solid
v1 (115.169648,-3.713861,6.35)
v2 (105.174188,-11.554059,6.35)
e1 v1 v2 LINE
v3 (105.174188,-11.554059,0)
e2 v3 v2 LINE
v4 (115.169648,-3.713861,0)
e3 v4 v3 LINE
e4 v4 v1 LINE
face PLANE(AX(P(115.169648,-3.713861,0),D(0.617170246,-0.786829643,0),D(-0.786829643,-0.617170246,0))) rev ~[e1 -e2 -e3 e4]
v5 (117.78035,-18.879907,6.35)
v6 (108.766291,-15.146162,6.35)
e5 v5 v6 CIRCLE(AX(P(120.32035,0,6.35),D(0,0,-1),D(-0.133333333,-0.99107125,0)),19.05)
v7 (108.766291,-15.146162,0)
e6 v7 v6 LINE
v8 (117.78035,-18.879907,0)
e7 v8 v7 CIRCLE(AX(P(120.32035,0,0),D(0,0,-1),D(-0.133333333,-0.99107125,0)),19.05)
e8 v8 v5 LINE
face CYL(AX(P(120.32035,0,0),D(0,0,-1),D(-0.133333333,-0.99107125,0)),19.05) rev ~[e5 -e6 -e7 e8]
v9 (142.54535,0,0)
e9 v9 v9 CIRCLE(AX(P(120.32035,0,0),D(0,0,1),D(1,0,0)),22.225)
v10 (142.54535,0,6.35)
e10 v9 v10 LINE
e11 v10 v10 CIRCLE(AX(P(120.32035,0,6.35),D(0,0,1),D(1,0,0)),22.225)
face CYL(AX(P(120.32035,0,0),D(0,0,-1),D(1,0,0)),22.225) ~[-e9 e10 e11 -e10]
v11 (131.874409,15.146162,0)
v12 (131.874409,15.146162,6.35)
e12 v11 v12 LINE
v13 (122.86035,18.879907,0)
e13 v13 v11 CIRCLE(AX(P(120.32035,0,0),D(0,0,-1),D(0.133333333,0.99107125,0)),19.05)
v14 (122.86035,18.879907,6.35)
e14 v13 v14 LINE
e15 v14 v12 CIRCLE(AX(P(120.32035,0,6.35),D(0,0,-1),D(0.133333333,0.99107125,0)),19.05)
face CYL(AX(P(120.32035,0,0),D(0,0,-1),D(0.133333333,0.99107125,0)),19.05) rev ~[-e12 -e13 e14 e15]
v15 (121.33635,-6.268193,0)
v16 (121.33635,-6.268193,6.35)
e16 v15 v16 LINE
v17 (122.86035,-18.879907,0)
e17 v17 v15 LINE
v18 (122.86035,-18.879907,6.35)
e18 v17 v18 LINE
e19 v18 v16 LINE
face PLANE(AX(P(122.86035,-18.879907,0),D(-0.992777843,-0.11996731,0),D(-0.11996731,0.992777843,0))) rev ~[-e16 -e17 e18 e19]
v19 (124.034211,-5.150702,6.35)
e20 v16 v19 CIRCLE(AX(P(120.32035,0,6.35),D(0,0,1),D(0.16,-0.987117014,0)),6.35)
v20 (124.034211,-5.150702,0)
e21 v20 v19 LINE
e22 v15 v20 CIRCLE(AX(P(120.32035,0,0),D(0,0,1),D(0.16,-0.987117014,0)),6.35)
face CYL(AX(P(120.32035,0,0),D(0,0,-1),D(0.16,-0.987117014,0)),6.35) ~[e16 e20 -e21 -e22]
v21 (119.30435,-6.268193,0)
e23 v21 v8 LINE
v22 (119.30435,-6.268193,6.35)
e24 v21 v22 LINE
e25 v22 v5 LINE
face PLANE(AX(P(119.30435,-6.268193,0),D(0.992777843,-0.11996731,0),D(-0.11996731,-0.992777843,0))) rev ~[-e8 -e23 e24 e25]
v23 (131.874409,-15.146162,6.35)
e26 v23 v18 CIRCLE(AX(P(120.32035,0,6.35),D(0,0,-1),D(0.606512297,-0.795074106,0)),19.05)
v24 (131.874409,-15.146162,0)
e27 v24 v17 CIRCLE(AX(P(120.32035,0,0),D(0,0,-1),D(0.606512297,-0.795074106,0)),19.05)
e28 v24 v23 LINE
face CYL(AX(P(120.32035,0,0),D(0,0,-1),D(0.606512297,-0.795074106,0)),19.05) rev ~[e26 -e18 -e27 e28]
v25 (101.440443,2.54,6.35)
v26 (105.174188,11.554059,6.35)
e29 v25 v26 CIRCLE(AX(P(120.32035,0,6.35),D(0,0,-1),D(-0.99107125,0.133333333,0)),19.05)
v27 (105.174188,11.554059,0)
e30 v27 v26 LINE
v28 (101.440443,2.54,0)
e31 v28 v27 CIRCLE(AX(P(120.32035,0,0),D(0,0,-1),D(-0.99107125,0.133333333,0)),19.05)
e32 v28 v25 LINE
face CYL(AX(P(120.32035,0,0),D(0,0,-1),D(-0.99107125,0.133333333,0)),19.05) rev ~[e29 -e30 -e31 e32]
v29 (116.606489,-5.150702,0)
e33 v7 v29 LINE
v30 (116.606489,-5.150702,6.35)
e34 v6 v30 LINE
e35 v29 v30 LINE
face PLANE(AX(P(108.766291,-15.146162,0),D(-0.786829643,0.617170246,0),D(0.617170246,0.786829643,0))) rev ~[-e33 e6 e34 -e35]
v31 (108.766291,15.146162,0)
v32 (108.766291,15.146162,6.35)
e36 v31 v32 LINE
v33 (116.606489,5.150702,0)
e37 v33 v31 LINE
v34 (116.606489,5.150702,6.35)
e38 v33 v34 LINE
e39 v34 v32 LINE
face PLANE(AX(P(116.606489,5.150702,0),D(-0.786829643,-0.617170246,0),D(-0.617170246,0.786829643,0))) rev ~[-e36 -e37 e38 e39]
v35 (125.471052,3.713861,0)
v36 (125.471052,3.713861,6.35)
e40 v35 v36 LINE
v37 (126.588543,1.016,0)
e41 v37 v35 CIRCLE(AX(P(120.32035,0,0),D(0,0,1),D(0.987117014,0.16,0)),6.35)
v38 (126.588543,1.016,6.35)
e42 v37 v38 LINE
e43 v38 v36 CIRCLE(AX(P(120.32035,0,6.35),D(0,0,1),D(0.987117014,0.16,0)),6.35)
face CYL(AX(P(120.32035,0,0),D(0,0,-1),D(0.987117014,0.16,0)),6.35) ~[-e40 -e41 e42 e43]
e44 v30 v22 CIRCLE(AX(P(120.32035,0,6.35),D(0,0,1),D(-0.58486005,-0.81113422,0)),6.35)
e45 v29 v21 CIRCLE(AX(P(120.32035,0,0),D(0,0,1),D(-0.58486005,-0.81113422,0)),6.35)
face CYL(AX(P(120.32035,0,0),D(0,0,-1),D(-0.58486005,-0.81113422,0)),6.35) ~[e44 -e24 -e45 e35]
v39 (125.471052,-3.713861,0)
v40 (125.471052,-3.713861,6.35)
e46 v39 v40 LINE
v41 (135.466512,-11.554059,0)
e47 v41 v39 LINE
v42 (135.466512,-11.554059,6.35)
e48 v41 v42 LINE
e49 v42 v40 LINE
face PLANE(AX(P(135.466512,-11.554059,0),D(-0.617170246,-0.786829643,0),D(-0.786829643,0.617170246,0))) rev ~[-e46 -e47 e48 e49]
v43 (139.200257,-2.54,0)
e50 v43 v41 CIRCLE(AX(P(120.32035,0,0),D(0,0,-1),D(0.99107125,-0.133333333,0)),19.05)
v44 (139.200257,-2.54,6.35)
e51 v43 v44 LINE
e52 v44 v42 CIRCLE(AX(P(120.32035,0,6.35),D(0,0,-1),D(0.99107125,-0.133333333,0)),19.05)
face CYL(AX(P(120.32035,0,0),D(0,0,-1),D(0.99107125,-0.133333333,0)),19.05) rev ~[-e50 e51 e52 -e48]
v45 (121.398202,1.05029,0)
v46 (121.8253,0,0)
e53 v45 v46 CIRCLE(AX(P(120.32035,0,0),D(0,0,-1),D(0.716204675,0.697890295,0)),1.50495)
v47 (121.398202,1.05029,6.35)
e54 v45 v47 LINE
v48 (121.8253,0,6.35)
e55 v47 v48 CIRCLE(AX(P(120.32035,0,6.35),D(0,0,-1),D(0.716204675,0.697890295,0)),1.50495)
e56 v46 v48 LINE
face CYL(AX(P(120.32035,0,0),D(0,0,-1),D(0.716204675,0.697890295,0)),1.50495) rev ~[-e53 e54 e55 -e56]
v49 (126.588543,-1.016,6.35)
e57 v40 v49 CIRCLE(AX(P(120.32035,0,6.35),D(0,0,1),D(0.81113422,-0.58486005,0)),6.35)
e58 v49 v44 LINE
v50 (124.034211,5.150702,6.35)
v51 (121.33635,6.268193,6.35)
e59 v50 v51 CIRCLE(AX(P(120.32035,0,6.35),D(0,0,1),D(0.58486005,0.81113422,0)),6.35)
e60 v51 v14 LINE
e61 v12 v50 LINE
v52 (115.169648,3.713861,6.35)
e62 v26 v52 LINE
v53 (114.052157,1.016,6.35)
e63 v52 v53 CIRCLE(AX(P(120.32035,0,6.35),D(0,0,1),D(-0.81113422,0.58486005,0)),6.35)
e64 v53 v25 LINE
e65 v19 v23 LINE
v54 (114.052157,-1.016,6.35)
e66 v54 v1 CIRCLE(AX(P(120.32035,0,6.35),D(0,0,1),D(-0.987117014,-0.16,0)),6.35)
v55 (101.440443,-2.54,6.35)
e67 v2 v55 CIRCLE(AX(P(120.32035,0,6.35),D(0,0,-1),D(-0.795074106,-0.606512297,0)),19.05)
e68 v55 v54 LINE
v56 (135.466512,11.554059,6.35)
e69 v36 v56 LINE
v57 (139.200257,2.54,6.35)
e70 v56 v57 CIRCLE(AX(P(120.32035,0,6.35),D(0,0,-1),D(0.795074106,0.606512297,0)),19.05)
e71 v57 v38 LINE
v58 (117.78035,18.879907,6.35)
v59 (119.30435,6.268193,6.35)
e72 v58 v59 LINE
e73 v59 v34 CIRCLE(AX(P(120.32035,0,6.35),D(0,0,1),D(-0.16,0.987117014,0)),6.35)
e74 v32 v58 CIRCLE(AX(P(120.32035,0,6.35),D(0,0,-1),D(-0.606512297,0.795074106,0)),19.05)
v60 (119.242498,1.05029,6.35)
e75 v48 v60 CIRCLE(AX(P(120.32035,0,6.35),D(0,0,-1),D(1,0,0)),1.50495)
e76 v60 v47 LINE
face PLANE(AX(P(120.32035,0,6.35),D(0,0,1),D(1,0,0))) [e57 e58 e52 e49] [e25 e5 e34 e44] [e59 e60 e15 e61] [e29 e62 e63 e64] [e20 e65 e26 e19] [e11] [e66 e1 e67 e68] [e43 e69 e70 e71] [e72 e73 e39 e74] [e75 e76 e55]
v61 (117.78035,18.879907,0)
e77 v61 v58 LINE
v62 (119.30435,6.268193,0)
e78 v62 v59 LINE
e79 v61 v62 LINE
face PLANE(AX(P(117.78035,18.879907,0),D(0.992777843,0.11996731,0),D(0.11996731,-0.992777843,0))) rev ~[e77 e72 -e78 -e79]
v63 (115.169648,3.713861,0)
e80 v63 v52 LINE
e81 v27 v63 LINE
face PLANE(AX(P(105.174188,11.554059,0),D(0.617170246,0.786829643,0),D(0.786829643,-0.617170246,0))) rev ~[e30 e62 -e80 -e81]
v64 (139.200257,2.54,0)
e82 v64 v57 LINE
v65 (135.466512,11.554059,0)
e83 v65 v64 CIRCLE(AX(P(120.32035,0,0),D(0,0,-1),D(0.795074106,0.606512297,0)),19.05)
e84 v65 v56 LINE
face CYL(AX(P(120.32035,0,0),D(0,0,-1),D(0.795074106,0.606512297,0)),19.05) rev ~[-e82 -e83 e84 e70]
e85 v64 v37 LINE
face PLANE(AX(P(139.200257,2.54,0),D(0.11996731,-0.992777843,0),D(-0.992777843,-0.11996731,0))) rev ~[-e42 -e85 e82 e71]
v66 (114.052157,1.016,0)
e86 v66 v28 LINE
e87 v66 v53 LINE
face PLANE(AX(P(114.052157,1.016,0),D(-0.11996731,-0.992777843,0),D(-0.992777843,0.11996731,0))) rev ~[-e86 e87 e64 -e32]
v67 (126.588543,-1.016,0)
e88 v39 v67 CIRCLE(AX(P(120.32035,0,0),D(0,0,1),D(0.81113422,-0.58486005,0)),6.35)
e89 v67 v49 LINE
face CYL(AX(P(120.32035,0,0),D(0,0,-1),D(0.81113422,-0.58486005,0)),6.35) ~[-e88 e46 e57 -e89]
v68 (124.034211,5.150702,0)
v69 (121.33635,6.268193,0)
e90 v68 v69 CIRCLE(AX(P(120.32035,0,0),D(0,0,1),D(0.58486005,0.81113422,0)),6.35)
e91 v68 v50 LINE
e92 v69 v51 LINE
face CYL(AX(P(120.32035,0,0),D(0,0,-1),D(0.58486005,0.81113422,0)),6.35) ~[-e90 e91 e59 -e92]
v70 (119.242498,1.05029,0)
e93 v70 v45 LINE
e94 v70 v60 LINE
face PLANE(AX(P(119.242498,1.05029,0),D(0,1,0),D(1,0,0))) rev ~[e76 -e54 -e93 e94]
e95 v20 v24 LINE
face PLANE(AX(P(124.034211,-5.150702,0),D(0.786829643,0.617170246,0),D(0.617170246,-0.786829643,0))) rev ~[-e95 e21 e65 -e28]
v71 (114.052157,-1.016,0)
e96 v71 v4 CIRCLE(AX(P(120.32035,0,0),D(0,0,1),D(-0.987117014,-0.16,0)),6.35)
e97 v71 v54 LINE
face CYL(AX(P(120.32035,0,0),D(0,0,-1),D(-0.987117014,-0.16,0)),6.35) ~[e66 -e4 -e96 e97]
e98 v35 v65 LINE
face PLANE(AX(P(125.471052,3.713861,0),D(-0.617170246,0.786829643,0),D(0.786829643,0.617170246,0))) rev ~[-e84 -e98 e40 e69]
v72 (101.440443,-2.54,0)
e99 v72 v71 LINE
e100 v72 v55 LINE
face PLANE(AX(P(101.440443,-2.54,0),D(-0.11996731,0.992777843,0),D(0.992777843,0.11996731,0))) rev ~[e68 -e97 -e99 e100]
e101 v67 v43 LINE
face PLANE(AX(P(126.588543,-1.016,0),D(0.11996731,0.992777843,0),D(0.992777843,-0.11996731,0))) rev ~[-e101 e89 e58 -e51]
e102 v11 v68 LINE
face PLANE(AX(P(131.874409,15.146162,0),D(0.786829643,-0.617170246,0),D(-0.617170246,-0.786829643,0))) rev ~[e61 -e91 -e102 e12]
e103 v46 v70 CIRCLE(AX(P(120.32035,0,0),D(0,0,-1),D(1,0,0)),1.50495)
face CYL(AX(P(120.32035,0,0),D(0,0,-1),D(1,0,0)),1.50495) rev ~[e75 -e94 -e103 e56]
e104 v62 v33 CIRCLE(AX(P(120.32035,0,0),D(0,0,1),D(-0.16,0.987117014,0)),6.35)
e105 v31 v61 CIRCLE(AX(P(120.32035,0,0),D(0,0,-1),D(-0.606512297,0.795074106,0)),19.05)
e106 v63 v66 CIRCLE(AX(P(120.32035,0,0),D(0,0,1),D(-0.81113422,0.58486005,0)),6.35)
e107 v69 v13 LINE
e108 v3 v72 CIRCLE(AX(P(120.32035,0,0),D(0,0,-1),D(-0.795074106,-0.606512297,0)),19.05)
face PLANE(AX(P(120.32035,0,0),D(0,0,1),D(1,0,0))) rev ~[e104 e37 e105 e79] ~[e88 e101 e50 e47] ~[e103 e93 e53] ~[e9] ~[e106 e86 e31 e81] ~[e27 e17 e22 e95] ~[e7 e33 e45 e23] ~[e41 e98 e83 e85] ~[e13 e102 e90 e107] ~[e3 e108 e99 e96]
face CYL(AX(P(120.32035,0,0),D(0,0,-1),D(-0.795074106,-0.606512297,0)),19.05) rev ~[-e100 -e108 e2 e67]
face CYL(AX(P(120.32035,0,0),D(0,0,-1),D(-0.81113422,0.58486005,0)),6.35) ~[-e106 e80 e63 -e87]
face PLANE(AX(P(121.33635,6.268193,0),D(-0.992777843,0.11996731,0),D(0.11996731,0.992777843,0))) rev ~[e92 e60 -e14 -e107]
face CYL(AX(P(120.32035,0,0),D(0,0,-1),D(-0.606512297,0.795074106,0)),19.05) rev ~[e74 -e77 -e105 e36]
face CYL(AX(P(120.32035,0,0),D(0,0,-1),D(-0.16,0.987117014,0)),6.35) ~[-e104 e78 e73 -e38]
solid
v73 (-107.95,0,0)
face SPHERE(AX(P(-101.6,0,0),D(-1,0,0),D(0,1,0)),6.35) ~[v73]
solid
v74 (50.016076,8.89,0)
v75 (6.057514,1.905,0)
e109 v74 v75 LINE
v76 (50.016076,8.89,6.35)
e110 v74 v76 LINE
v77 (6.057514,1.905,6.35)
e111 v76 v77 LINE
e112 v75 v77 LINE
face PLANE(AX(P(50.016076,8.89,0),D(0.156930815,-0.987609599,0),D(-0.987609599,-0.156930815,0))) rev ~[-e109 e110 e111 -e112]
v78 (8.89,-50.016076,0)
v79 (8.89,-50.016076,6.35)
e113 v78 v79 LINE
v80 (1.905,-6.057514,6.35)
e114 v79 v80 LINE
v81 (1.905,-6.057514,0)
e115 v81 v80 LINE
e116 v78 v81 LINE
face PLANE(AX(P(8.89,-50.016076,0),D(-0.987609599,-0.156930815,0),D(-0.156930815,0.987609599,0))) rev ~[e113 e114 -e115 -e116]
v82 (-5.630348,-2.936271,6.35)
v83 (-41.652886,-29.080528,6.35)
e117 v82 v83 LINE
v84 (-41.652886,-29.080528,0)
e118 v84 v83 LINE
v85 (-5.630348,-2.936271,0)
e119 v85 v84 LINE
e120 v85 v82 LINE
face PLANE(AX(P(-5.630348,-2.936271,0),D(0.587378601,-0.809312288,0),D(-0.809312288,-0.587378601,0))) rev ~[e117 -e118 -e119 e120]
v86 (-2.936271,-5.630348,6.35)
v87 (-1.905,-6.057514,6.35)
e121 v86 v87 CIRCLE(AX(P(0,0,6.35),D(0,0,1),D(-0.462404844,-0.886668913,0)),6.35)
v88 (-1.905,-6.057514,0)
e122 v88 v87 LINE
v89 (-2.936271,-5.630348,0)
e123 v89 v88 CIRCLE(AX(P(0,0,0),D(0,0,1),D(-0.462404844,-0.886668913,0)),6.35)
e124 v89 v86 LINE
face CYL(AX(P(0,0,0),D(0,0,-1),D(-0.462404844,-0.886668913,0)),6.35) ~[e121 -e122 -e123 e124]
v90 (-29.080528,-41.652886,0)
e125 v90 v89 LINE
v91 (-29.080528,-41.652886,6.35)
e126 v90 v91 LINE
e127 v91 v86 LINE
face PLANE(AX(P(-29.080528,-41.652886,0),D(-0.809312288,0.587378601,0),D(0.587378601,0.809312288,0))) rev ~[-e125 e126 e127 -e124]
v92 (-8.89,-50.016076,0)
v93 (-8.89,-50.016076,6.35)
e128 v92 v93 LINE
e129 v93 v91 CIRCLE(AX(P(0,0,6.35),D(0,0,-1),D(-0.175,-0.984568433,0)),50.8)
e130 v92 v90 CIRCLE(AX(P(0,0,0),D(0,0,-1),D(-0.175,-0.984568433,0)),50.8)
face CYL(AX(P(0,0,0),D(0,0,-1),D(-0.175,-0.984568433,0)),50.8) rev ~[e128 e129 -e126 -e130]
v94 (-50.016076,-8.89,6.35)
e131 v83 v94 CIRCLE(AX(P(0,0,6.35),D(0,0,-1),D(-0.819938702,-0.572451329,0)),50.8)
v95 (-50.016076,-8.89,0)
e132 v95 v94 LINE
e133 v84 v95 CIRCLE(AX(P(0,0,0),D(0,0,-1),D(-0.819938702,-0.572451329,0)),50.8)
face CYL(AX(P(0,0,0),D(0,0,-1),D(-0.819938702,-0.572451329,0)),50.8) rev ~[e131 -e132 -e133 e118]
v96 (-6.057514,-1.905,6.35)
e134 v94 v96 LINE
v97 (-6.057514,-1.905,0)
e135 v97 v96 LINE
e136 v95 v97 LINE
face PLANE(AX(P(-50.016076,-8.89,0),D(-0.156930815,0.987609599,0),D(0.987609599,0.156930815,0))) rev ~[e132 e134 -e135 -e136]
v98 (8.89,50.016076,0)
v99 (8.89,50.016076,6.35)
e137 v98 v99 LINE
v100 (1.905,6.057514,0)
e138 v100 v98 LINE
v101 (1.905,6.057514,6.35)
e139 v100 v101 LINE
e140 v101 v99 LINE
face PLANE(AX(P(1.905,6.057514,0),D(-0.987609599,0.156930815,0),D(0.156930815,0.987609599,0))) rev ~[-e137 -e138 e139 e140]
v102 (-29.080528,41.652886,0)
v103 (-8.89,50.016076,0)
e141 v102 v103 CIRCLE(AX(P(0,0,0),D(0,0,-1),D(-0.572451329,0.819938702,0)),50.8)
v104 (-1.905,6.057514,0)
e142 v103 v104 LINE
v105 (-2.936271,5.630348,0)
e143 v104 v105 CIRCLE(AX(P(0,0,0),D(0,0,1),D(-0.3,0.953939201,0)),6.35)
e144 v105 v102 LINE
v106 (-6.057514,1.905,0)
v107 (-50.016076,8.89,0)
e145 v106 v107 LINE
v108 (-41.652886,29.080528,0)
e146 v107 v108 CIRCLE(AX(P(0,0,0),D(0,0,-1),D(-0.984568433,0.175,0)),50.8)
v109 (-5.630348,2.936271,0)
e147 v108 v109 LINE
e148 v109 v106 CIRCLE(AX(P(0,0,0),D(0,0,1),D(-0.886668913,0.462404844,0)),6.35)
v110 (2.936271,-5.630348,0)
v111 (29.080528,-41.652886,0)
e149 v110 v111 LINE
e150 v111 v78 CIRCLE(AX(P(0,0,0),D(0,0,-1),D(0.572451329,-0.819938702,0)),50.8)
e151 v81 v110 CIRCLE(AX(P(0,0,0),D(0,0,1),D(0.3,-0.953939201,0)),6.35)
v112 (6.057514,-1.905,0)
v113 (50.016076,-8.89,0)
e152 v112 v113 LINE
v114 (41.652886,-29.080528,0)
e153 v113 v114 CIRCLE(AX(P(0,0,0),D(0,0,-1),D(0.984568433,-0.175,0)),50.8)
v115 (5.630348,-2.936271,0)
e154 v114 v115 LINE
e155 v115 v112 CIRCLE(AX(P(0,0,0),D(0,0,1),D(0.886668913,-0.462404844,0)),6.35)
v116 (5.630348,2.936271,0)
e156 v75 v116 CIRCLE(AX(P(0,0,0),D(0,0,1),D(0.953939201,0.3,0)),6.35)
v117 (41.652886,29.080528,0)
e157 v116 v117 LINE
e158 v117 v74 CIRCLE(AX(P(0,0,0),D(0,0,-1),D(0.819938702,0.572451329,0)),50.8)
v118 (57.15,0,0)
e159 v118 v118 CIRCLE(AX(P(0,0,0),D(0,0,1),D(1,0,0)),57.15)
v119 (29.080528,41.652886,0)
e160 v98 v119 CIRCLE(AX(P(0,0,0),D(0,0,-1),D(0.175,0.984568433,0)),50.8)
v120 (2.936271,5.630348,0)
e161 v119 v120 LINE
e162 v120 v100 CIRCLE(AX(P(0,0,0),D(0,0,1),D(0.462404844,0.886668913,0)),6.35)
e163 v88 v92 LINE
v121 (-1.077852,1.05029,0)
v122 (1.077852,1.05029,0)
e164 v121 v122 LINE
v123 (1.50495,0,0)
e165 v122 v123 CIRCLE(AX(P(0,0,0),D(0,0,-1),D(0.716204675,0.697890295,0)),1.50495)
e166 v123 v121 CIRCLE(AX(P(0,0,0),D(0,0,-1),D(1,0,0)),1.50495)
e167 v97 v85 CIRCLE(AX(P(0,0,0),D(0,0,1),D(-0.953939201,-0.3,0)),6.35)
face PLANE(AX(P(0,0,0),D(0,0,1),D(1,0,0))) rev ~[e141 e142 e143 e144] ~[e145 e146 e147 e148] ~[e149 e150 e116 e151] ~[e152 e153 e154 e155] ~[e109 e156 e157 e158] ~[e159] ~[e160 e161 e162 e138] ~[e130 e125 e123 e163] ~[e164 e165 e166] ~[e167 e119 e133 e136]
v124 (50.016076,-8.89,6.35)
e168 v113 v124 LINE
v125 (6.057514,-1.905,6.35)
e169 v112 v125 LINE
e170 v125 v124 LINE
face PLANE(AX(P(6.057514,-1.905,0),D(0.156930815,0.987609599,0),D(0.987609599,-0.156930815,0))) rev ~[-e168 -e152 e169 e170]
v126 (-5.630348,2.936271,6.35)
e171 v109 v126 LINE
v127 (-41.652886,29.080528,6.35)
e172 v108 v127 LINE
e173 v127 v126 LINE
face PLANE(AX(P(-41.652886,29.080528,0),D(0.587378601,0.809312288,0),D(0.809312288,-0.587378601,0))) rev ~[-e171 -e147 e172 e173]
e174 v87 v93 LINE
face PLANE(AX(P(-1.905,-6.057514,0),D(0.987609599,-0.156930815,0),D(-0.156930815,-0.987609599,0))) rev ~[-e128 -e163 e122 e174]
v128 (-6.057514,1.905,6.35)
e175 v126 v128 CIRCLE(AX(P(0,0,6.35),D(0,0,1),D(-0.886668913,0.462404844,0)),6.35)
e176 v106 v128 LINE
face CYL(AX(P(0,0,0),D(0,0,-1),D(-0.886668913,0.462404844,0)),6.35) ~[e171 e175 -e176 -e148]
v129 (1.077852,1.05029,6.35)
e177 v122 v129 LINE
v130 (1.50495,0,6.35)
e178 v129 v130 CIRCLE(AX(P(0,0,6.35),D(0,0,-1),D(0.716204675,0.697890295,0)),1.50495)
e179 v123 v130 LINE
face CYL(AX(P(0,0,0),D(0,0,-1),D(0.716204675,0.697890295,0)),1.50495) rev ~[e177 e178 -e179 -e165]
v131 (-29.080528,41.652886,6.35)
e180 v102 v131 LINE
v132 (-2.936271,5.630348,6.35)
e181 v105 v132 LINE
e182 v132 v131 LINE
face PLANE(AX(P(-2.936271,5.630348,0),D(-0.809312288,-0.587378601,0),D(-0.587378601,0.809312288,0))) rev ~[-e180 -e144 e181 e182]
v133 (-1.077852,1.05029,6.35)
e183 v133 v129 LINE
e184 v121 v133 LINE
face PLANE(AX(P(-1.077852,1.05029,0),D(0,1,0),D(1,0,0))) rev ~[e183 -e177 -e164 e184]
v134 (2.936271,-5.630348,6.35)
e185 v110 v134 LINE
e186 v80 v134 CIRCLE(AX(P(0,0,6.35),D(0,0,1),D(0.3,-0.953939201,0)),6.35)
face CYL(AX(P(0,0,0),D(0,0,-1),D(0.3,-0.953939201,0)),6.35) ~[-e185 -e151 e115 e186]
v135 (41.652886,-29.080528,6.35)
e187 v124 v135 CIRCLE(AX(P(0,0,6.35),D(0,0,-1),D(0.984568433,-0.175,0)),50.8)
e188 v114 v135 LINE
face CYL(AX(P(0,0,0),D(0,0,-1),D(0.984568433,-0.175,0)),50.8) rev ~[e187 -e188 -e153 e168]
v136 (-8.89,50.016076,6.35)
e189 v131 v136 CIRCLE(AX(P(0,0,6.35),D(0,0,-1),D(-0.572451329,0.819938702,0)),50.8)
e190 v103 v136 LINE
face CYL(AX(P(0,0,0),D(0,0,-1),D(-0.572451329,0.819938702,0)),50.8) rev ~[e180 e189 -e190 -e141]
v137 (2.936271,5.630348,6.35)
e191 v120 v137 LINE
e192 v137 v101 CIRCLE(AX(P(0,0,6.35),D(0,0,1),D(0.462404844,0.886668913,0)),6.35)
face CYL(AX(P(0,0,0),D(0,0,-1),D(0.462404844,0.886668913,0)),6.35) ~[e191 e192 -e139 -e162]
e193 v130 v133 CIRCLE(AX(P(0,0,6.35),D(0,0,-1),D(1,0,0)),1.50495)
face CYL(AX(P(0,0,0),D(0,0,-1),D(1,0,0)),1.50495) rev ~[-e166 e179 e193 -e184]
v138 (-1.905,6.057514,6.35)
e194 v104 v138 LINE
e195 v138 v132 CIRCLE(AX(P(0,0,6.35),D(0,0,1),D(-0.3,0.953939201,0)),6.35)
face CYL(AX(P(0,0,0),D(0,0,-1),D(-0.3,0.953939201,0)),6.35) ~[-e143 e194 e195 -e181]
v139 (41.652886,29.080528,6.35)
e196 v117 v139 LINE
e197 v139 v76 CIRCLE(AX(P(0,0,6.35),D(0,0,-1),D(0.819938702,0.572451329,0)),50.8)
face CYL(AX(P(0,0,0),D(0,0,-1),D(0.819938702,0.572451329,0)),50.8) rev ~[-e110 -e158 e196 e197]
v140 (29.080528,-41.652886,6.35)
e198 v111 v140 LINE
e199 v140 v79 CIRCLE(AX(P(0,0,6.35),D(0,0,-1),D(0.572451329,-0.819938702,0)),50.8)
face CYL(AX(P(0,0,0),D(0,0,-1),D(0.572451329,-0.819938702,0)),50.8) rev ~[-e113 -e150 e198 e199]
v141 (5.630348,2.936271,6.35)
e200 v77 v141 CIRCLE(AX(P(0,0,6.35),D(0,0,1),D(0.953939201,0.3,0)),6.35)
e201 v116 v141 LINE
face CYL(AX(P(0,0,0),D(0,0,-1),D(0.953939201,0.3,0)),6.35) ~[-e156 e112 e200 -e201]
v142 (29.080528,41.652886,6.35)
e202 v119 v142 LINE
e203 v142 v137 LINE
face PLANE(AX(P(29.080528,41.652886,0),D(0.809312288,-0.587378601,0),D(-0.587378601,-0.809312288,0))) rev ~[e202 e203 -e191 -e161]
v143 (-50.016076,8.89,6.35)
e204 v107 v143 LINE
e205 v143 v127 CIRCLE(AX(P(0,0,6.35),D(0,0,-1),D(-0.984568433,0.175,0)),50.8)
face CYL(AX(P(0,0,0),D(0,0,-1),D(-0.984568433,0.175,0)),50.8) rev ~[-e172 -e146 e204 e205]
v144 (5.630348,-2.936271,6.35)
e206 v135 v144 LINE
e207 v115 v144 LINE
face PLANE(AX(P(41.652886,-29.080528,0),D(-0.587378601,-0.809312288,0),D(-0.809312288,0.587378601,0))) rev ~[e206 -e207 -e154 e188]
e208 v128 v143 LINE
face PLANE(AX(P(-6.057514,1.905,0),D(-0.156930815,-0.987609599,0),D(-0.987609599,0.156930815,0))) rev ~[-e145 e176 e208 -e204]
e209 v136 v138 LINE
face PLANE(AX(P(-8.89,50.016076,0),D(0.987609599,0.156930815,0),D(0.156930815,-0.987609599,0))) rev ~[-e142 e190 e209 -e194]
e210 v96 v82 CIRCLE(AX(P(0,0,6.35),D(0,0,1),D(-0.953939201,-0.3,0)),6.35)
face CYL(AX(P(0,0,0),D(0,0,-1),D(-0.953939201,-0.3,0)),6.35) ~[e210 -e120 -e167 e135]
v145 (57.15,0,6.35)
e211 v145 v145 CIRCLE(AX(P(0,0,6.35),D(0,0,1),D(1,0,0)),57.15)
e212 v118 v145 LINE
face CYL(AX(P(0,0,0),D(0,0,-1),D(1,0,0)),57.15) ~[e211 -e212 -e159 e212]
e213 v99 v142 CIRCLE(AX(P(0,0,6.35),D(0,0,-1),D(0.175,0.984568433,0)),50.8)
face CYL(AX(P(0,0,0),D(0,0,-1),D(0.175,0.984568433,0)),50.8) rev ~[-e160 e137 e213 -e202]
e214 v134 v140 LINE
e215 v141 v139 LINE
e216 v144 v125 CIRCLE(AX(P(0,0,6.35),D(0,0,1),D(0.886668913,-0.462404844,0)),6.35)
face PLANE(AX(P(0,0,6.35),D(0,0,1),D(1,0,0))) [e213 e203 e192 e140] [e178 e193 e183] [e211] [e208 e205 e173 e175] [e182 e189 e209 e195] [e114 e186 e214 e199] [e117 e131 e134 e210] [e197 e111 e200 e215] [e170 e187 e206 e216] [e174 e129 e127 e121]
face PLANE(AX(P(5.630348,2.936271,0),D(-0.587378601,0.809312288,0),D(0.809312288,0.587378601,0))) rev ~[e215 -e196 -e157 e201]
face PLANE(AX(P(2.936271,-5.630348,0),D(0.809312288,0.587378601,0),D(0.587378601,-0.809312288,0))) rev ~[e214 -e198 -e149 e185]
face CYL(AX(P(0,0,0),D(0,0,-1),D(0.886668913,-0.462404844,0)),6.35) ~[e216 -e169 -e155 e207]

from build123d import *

# Parameters (mm, degrees)
F0_R     = 57.15
F1_DEPTH = 6.35
F0_R_2   = 22.225


with BuildPart() as f1:
    # F0 (on Top) → F1 (new body)
    with BuildSketch(Plane.XY):
        Circle(F0_R)
        with BuildLine():
            ThreePointArc((41.6528860865, 29.080527517), (46.9330802516, 19.4403183641), (50.0160764155, 8.89))
            ThreePointArc((50.0160764155, 8.89), (50.6036396018, 4.4622482054), (50.8, 0))
            ThreePointArc((50.8, 0), (50.6036396018, -4.4622482054), (50.0160764155, -8.89))
            ThreePointArc((50.0160764155, -8.89), (46.9330802516, -19.4403183641), (41.6528860865, -29.080527517))
            ThreePointArc((41.6528860865, -29.080527517), (35.9210244843, -35.9210244843), (29.080527517, -41.6528860865))
            ThreePointArc((29.080527517, -41.6528860865), (19.4403183641, -46.9330802516), (8.89, -50.0160764155))
            ThreePointArc((8.89, -50.0160764155), (0, -50.8), (-8.89, -50.0160764155))
            ThreePointArc((-8.89, -50.0160764155), (-19.4403183641, -46.9330802516), (-29.080527517, -41.6528860865))
            ThreePointArc((-29.080527517, -41.6528860865), (-35.9210244843, -35.9210244843), (-41.6528860865, -29.080527517))
            ThreePointArc((-41.6528860865, -29.080527517), (-46.9330802516, -19.4403183641), (-50.0160764155, -8.89))
            ThreePointArc((-50.0160764155, -8.89), (-50.8, 0), (-50.0160764155, 8.89))
            ThreePointArc((-50.0160764155, 8.89), (-46.9330802516, 19.4403183641), (-41.6528860865, 29.080527517))
            ThreePointArc((-41.6528860865, 29.080527517), (-35.9210244843, 35.9210244843), (-29.080527517, 41.6528860865))
            ThreePointArc((-29.080527517, 41.6528860865), (-19.4403183641, 46.9330802516), (-8.89, 50.0160764155))
            ThreePointArc((-8.89, 50.0160764155), (0, 50.8), (8.89, 50.0160764155))
            ThreePointArc((8.89, 50.0160764155), (19.4403183641, 46.9330802516), (29.080527517, 41.6528860865))
            ThreePointArc((29.080527517, 41.6528860865), (35.9210244843, 35.9210244843), (41.6528860865, 29.080527517))
        make_face(mode=Mode.SUBTRACT)
        with BuildLine():
            ThreePointArc((-5.6303475945, 2.9362707582), (-4.4901280605, 4.4901280605), (-2.9362707582, 5.6303475945))
            Line((-2.9362707582, 5.6303475945), (-29.080527517, 41.6528860865))
            ThreePointArc((-29.080527517, 41.6528860865), (-35.9210244843, 35.9210244843), (-41.6528860865, 29.080527517))
            Line((-41.6528860865, 29.080527517), (-5.6303475945, 2.9362707582))
        make_face()
        with BuildLine():
            ThreePointArc((6.057513929, -1.905), (6.2764525589, -0.9636613904), (6.35, 0))
            ThreePointArc((6.35, 0), (6.2764525589, 0.9636613904), (6.057513929, 1.905))
            ThreePointArc((6.057513929, 1.905), (5.8666350314, 2.4300397955), (5.6303475945, 2.9362707582))
            ThreePointArc((5.6303475945, 2.9362707582), (4.4901280605, 4.4901280605), (2.9362707582, 5.6303475945))
            ThreePointArc((2.9362707582, 5.6303475945), (2.4300397955, 5.8666350314), (1.905, 6.057513929))
            ThreePointArc((1.905, 6.057513929), (0, 6.35), (-1.905, 6.057513929))
            ThreePointArc((-1.905, 6.057513929), (-2.4300397955, 5.8666350314), (-2.9362707582, 5.6303475945))
            ThreePointArc((-2.9362707582, 5.6303475945), (-4.4901280605, 4.4901280605), (-5.6303475945, 2.9362707582))
            ThreePointArc((-5.6303475945, 2.9362707582), (-5.8666350314, 2.4300397955), (-6.057513929, 1.905))
            ThreePointArc((-6.057513929, 1.905), (-6.35, 0), (-6.057513929, -1.905))
            ThreePointArc((-6.057513929, -1.905), (-5.8666350314, -2.4300397955), (-5.6303475945, -2.9362707582))
            ThreePointArc((-5.6303475945, -2.9362707582), (-4.4901280605, -4.4901280605), (-2.9362707582, -5.6303475945))
            ThreePointArc((-2.9362707582, -5.6303475945), (-2.4300397955, -5.8666350314), (-1.905, -6.057513929))
            ThreePointArc((-1.905, -6.057513929), (0, -6.35), (1.905, -6.057513929))
            ThreePointArc((1.905, -6.057513929), (2.4300397955, -5.8666350314), (2.9362707582, -5.6303475945))
            ThreePointArc((2.9362707582, -5.6303475945), (4.4901280605, -4.4901280605), (5.6303475945, -2.9362707582))
            ThreePointArc((5.6303475945, -2.9362707582), (5.8666350314, -2.4300397955), (6.057513929, -1.905))
        make_face()
        with BuildLine():
            ThreePointArc((1.0778522248, 1.05029), (1.3940925737, 0.5669042233), (1.50495, 0))
            ThreePointArc((1.50495, 0), (-0.5669042233, -1.3940925737), (-1.0778522248, 1.05029))
            ThreePointArc((-1.0778522248, 1.05029), (0, 1.50495), (1.0778522248, 1.05029))
        make_face(mode=Mode.SUBTRACT)
        with BuildLine():
            ThreePointArc((-1.905, 6.057513929), (0, 6.35), (1.905, 6.057513929))
            Line((1.905, 6.057513929), (8.89, 50.0160764155))
            ThreePointArc((8.89, 50.0160764155), (0, 50.8), (-8.89, 50.0160764155))
            Line((-8.89, 50.0160764155), (-1.905, 6.057513929))
        make_face()
        with BuildLine():
            ThreePointArc((6.057513929, 1.905), (6.2764525589, 0.9636613904), (6.35, 0))
            ThreePointArc((6.35, 0), (6.2764525589, -0.9636613904), (6.057513929, -1.905))
            Line((6.057513929, -1.905), (50.0160764155, -8.89))
            ThreePointArc((50.0160764155, -8.89), (50.6036396018, -4.4622482054), (50.8, 0))
            ThreePointArc((50.8, 0), (50.6036396018, 4.4622482054), (50.0160764155, 8.89))
            Line((50.0160764155, 8.89), (6.057513929, 1.905))
        make_face()
        with BuildLine():
            Line((41.6528860865, -29.080527517), (5.6303475945, -2.9362707582))
            ThreePointArc((5.6303475945, -2.9362707582), (4.4901280605, -4.4901280605), (2.9362707582, -5.6303475945))
            Line((2.9362707582, -5.6303475945), (29.080527517, -41.6528860865))
            ThreePointArc((29.080527517, -41.6528860865), (35.9210244843, -35.9210244843), (41.6528860865, -29.080527517))
        make_face()
        with BuildLine():
            Line((8.89, -50.0160764155), (1.905, -6.057513929))
            ThreePointArc((1.905, -6.057513929), (0, -6.35), (-1.905, -6.057513929))
            Line((-1.905, -6.057513929), (-8.89, -50.0160764155))
            ThreePointArc((-8.89, -50.0160764155), (0, -50.8), (8.89, -50.0160764155))
        make_face()
        with BuildLine():
            Line((-29.080527517, -41.6528860865), (-2.9362707582, -5.6303475945))
            ThreePointArc((-2.9362707582, -5.6303475945), (-4.4901280605, -4.4901280605), (-5.6303475945, -2.9362707582))
            Line((-5.6303475945, -2.9362707582), (-41.6528860865, -29.080527517))
            ThreePointArc((-41.6528860865, -29.080527517), (-35.9210244843, -35.9210244843), (-29.080527517, -41.6528860865))
        make_face()
        with BuildLine():
            ThreePointArc((-6.057513929, -1.905), (-6.35, 0), (-6.057513929, 1.905))
            Line((-6.057513929, 1.905), (-50.0160764155, 8.89))
            ThreePointArc((-50.0160764155, 8.89), (-50.8, 0), (-50.0160764155, -8.89))
            Line((-50.0160764155, -8.89), (-6.057513929, -1.905))
        make_face()
        with BuildLine():
            ThreePointArc((2.9362707582, 5.6303475945), (4.4901280605, 4.4901280605), (5.6303475945, 2.9362707582))
            Line((5.6303475945, 2.9362707582), (41.6528860865, 29.080527517))
            ThreePointArc((41.6528860865, 29.080527517), (35.9210244843, 35.9210244843), (29.080527517, 41.6528860865))
            Line((29.080527517, 41.6528860865), (2.9362707582, 5.6303475945))
        make_face()
        with BuildLine():
            Line((-1.0778522248, 1.05029), (1.0778522248, 1.05029))
            ThreePointArc((1.0778522248, 1.05029), (0, 1.50495), (-1.0778522248, 1.05029))
        make_face()
    extrude(amount=F1_DEPTH)


with BuildPart() as f1b:
    # F0 (on Top) → F1, piece 2 (new body)
    with BuildSketch(Plane.XY):
        with Locations((120.3203499317, 0)):
            Circle(F0_R_2)
        with BuildLine():
            ThreePointArc((135.4665116424, 11.5540592622), (137.9202550261, 7.2901193866), (139.2002572408, 2.54))
            ThreePointArc((139.2002572408, 2.54), (139.3277791929, 1.2728444056), (139.3703499317, 0))
            ThreePointArc((139.3703499317, 0), (139.3277791929, -1.2728444056), (139.2002572408, -2.54))
            ThreePointArc((139.2002572408, -2.54), (137.9202550261, -7.2901193866), (135.4665116424, -11.5540592622))
            ThreePointArc((135.4665116424, -11.5540592622), (133.7907341133, -13.4703841816), (131.8744091939, -15.1461617106))
            ThreePointArc((131.8744091939, -15.1461617106), (127.6104693183, -17.5999050943), (122.8603499317, -18.8799073091))
            ThreePointArc((122.8603499317, -18.8799073091), (120.3203499317, -19.05), (117.7803499317, -18.8799073091))
            ThreePointArc((117.7803499317, -18.8799073091), (113.0302305452, -17.5999050943), (108.7662906695, -15.1461617106))
            ThreePointArc((108.7662906695, -15.1461617106), (106.8499657501, -13.4703841816), (105.1741882211, -11.5540592622))
            ThreePointArc((105.1741882211, -11.5540592622), (102.7204448374, -7.2901193866), (101.4404426226, -2.54))
            ThreePointArc((101.4404426226, -2.54), (101.2703499317, 0), (101.4404426226, 2.54))
            ThreePointArc((101.4404426226, 2.54), (102.7204448374, 7.2901193866), (105.1741882211, 11.5540592622))
            ThreePointArc((105.1741882211, 11.5540592622), (106.8499657501, 13.4703841816), (108.7662906695, 15.1461617106))
            ThreePointArc((108.7662906695, 15.1461617106), (113.0302305452, 17.5999050943), (117.7803499317, 18.8799073091))
            ThreePointArc((117.7803499317, 18.8799073091), (120.3203499317, 19.05), (122.8603499317, 18.8799073091))
            ThreePointArc((122.8603499317, 18.8799073091), (127.6104693183, 17.5999050943), (131.8744091939, 15.1461617106))
            ThreePointArc((131.8744091939, 15.1461617106), (133.7907341133, 13.4703841816), (135.4665116424, 11.5540592622))
        make_face(mode=Mode.SUBTRACT)
        with BuildLine():
            ThreePointArc((126.5885429728, -1.016), (126.6498651505, -0.5096440862), (126.6703499317, 0))
            ThreePointArc((126.6703499317, 0), (126.6498651505, 0.5096440862), (126.5885429728, 1.016))
            ThreePointArc((126.5885429728, 1.016), (126.1869849632, 2.4300397955), (125.4710522265, 3.7138613154))
            ThreePointArc((125.4710522265, 3.7138613154), (124.8104779923, 4.4901280605), (124.0342112472, 5.1507022948))
            ThreePointArc((124.0342112472, 5.1507022948), (122.7503897272, 5.8666350314), (121.3363499317, 6.2681930411))
            ThreePointArc((121.3363499317, 6.2681930411), (120.3203499317, 6.35), (119.3043499317, 6.2681930411))
            ThreePointArc((119.3043499317, 6.2681930411), (117.8903101362, 5.8666350314), (116.6064886163, 5.1507022948))
            ThreePointArc((116.6064886163, 5.1507022948), (115.8302218712, 4.4901280605), (115.1696476369, 3.7138613154))
            ThreePointArc((115.1696476369, 3.7138613154), (114.4537149003, 2.4300397955), (114.0521568907, 1.016))
            ThreePointArc((114.0521568907, 1.016), (113.9703499317, 0), (114.0521568907, -1.016))
            ThreePointArc((114.0521568907, -1.016), (114.4537149003, -2.4300397955), (115.1696476369, -3.7138613154))
            ThreePointArc((115.1696476369, -3.7138613154), (115.8302218712, -4.4901280605), (116.6064886163, -5.1507022948))
            ThreePointArc((116.6064886163, -5.1507022948), (117.8903101362, -5.8666350314), (119.3043499317, -6.2681930411))
            ThreePointArc((119.3043499317, -6.2681930411), (120.3203499317, -6.35), (121.3363499317, -6.2681930411))
            ThreePointArc((121.3363499317, -6.2681930411), (122.7503897272, -5.8666350314), (124.0342112472, -5.1507022948))
            ThreePointArc((124.0342112472, -5.1507022948), (124.8104779923, -4.4901280605), (125.4710522265, -3.7138613154))
            ThreePointArc((125.4710522265, -3.7138613154), (126.1869849632, -2.4300397955), (126.5885429728, -1.016))
        make_face()
        with BuildLine():
            ThreePointArc((121.3982021565, 1.05029), (121.7144425054, 0.5669042233), (121.8252999317, 0))
            ThreePointArc((121.8252999317, 0), (119.7534457084, -1.3940925737), (119.242497707, 1.05029))
            ThreePointArc((119.242497707, 1.05029), (120.3203499317, 1.50495), (121.3982021565, 1.05029))
        make_face(mode=Mode.SUBTRACT)
        with BuildLine():
            ThreePointArc((119.3043499317, 6.2681930411), (120.3203499317, 6.35), (121.3363499317, 6.2681930411))
            Line((121.3363499317, 6.2681930411), (122.8603499317, 18.8799073091))
            ThreePointArc((122.8603499317, 18.8799073091), (120.3203499317, 19.05), (117.7803499317, 18.8799073091))
            Line((117.7803499317, 18.8799073091), (119.3043499317, 6.2681930411))
        make_face()
        with BuildLine():
            ThreePointArc((115.1696476369, 3.7138613154), (115.8302218712, 4.4901280605), (116.6064886163, 5.1507022948))
            Line((116.6064886163, 5.1507022948), (108.7662906695, 15.1461617106))
            ThreePointArc((108.7662906695, 15.1461617106), (106.8499657501, 13.4703841816), (105.1741882211, 11.5540592622))
            Line((105.1741882211, 11.5540592622), (115.1696476369, 3.7138613154))
        make_face()
        with BuildLine():
            ThreePointArc((114.0521568907, -1.016), (113.9703499317, 0), (114.0521568907, 1.016))
            Line((114.0521568907, 1.016), (101.4404426226, 2.54))
            ThreePointArc((101.4404426226, 2.54), (101.2703499317, 0), (101.4404426226, -2.54))
            Line((101.4404426226, -2.54), (114.0521568907, -1.016))
        make_face()
        with BuildLine():
            Line((108.7662906695, -15.1461617106), (116.6064886163, -5.1507022948))
            ThreePointArc((116.6064886163, -5.1507022948), (115.8302218712, -4.4901280605), (115.1696476369, -3.7138613154))
            Line((115.1696476369, -3.7138613154), (105.1741882211, -11.5540592622))
            ThreePointArc((105.1741882211, -11.5540592622), (106.8499657501, -13.4703841816), (108.7662906695, -15.1461617106))
        make_face()
        with BuildLine():
            Line((122.8603499317, -18.8799073091), (121.3363499317, -6.2681930411))
            ThreePointArc((121.3363499317, -6.2681930411), (120.3203499317, -6.35), (119.3043499317, -6.2681930411))
            Line((119.3043499317, -6.2681930411), (117.7803499317, -18.8799073091))
            ThreePointArc((117.7803499317, -18.8799073091), (120.3203499317, -19.05), (122.8603499317, -18.8799073091))
        make_face()
        with BuildLine():
            Line((135.4665116424, -11.5540592622), (125.4710522265, -3.7138613154))
            ThreePointArc((125.4710522265, -3.7138613154), (124.8104779923, -4.4901280605), (124.0342112472, -5.1507022948))
            Line((124.0342112472, -5.1507022948), (131.8744091939, -15.1461617106))
            ThreePointArc((131.8744091939, -15.1461617106), (133.7907341133, -13.4703841816), (135.4665116424, -11.5540592622))
        make_face()
        with BuildLine():
            ThreePointArc((126.5885429728, 1.016), (126.6498651505, 0.5096440862), (126.6703499317, 0))
            ThreePointArc((126.6703499317, 0), (126.6498651505, -0.5096440862), (126.5885429728, -1.016))
            Line((126.5885429728, -1.016), (139.2002572408, -2.54))
            ThreePointArc((139.2002572408, -2.54), (139.3277791929, -1.2728444056), (139.3703499317, 0))
            ThreePointArc((139.3703499317, 0), (139.3277791929, 1.2728444056), (139.2002572408, 2.54))
            Line((139.2002572408, 2.54), (126.5885429728, 1.016))
        make_face()
        with BuildLine():
            ThreePointArc((124.0342112472, 5.1507022948), (124.8104779923, 4.4901280605), (125.4710522265, 3.7138613154))
            Line((125.4710522265, 3.7138613154), (135.4665116424, 11.5540592622))
            ThreePointArc((135.4665116424, 11.5540592622), (133.7907341133, 13.4703841816), (131.8744091939, 15.1461617106))
            Line((131.8744091939, 15.1461617106), (124.0342112472, 5.1507022948))
        make_face()
        with BuildLine():
            Line((119.242497707, 1.05029), (121.3982021565, 1.05029))
            ThreePointArc((121.3982021565, 1.05029), (120.3203499317, 1.50495), (119.242497707, 1.05029))
        make_face()
    extrude(amount=F1_DEPTH)


with BuildPart() as f2:
    # F0 (on Top) → F2 (revolve)
    with BuildSketch(Plane.XY):
        with BuildLine():
            Line((-107.95, 0), (-95.25, 0))
            ThreePointArc((-95.25, 0), (-101.6, 6.35), (-107.95, 0))
        make_face()
    revolve(axis=Axis((-101.6, 0, 0), (1, 0, 0)))


solid = Compound([f1.part, f1b.part, f2.part])
